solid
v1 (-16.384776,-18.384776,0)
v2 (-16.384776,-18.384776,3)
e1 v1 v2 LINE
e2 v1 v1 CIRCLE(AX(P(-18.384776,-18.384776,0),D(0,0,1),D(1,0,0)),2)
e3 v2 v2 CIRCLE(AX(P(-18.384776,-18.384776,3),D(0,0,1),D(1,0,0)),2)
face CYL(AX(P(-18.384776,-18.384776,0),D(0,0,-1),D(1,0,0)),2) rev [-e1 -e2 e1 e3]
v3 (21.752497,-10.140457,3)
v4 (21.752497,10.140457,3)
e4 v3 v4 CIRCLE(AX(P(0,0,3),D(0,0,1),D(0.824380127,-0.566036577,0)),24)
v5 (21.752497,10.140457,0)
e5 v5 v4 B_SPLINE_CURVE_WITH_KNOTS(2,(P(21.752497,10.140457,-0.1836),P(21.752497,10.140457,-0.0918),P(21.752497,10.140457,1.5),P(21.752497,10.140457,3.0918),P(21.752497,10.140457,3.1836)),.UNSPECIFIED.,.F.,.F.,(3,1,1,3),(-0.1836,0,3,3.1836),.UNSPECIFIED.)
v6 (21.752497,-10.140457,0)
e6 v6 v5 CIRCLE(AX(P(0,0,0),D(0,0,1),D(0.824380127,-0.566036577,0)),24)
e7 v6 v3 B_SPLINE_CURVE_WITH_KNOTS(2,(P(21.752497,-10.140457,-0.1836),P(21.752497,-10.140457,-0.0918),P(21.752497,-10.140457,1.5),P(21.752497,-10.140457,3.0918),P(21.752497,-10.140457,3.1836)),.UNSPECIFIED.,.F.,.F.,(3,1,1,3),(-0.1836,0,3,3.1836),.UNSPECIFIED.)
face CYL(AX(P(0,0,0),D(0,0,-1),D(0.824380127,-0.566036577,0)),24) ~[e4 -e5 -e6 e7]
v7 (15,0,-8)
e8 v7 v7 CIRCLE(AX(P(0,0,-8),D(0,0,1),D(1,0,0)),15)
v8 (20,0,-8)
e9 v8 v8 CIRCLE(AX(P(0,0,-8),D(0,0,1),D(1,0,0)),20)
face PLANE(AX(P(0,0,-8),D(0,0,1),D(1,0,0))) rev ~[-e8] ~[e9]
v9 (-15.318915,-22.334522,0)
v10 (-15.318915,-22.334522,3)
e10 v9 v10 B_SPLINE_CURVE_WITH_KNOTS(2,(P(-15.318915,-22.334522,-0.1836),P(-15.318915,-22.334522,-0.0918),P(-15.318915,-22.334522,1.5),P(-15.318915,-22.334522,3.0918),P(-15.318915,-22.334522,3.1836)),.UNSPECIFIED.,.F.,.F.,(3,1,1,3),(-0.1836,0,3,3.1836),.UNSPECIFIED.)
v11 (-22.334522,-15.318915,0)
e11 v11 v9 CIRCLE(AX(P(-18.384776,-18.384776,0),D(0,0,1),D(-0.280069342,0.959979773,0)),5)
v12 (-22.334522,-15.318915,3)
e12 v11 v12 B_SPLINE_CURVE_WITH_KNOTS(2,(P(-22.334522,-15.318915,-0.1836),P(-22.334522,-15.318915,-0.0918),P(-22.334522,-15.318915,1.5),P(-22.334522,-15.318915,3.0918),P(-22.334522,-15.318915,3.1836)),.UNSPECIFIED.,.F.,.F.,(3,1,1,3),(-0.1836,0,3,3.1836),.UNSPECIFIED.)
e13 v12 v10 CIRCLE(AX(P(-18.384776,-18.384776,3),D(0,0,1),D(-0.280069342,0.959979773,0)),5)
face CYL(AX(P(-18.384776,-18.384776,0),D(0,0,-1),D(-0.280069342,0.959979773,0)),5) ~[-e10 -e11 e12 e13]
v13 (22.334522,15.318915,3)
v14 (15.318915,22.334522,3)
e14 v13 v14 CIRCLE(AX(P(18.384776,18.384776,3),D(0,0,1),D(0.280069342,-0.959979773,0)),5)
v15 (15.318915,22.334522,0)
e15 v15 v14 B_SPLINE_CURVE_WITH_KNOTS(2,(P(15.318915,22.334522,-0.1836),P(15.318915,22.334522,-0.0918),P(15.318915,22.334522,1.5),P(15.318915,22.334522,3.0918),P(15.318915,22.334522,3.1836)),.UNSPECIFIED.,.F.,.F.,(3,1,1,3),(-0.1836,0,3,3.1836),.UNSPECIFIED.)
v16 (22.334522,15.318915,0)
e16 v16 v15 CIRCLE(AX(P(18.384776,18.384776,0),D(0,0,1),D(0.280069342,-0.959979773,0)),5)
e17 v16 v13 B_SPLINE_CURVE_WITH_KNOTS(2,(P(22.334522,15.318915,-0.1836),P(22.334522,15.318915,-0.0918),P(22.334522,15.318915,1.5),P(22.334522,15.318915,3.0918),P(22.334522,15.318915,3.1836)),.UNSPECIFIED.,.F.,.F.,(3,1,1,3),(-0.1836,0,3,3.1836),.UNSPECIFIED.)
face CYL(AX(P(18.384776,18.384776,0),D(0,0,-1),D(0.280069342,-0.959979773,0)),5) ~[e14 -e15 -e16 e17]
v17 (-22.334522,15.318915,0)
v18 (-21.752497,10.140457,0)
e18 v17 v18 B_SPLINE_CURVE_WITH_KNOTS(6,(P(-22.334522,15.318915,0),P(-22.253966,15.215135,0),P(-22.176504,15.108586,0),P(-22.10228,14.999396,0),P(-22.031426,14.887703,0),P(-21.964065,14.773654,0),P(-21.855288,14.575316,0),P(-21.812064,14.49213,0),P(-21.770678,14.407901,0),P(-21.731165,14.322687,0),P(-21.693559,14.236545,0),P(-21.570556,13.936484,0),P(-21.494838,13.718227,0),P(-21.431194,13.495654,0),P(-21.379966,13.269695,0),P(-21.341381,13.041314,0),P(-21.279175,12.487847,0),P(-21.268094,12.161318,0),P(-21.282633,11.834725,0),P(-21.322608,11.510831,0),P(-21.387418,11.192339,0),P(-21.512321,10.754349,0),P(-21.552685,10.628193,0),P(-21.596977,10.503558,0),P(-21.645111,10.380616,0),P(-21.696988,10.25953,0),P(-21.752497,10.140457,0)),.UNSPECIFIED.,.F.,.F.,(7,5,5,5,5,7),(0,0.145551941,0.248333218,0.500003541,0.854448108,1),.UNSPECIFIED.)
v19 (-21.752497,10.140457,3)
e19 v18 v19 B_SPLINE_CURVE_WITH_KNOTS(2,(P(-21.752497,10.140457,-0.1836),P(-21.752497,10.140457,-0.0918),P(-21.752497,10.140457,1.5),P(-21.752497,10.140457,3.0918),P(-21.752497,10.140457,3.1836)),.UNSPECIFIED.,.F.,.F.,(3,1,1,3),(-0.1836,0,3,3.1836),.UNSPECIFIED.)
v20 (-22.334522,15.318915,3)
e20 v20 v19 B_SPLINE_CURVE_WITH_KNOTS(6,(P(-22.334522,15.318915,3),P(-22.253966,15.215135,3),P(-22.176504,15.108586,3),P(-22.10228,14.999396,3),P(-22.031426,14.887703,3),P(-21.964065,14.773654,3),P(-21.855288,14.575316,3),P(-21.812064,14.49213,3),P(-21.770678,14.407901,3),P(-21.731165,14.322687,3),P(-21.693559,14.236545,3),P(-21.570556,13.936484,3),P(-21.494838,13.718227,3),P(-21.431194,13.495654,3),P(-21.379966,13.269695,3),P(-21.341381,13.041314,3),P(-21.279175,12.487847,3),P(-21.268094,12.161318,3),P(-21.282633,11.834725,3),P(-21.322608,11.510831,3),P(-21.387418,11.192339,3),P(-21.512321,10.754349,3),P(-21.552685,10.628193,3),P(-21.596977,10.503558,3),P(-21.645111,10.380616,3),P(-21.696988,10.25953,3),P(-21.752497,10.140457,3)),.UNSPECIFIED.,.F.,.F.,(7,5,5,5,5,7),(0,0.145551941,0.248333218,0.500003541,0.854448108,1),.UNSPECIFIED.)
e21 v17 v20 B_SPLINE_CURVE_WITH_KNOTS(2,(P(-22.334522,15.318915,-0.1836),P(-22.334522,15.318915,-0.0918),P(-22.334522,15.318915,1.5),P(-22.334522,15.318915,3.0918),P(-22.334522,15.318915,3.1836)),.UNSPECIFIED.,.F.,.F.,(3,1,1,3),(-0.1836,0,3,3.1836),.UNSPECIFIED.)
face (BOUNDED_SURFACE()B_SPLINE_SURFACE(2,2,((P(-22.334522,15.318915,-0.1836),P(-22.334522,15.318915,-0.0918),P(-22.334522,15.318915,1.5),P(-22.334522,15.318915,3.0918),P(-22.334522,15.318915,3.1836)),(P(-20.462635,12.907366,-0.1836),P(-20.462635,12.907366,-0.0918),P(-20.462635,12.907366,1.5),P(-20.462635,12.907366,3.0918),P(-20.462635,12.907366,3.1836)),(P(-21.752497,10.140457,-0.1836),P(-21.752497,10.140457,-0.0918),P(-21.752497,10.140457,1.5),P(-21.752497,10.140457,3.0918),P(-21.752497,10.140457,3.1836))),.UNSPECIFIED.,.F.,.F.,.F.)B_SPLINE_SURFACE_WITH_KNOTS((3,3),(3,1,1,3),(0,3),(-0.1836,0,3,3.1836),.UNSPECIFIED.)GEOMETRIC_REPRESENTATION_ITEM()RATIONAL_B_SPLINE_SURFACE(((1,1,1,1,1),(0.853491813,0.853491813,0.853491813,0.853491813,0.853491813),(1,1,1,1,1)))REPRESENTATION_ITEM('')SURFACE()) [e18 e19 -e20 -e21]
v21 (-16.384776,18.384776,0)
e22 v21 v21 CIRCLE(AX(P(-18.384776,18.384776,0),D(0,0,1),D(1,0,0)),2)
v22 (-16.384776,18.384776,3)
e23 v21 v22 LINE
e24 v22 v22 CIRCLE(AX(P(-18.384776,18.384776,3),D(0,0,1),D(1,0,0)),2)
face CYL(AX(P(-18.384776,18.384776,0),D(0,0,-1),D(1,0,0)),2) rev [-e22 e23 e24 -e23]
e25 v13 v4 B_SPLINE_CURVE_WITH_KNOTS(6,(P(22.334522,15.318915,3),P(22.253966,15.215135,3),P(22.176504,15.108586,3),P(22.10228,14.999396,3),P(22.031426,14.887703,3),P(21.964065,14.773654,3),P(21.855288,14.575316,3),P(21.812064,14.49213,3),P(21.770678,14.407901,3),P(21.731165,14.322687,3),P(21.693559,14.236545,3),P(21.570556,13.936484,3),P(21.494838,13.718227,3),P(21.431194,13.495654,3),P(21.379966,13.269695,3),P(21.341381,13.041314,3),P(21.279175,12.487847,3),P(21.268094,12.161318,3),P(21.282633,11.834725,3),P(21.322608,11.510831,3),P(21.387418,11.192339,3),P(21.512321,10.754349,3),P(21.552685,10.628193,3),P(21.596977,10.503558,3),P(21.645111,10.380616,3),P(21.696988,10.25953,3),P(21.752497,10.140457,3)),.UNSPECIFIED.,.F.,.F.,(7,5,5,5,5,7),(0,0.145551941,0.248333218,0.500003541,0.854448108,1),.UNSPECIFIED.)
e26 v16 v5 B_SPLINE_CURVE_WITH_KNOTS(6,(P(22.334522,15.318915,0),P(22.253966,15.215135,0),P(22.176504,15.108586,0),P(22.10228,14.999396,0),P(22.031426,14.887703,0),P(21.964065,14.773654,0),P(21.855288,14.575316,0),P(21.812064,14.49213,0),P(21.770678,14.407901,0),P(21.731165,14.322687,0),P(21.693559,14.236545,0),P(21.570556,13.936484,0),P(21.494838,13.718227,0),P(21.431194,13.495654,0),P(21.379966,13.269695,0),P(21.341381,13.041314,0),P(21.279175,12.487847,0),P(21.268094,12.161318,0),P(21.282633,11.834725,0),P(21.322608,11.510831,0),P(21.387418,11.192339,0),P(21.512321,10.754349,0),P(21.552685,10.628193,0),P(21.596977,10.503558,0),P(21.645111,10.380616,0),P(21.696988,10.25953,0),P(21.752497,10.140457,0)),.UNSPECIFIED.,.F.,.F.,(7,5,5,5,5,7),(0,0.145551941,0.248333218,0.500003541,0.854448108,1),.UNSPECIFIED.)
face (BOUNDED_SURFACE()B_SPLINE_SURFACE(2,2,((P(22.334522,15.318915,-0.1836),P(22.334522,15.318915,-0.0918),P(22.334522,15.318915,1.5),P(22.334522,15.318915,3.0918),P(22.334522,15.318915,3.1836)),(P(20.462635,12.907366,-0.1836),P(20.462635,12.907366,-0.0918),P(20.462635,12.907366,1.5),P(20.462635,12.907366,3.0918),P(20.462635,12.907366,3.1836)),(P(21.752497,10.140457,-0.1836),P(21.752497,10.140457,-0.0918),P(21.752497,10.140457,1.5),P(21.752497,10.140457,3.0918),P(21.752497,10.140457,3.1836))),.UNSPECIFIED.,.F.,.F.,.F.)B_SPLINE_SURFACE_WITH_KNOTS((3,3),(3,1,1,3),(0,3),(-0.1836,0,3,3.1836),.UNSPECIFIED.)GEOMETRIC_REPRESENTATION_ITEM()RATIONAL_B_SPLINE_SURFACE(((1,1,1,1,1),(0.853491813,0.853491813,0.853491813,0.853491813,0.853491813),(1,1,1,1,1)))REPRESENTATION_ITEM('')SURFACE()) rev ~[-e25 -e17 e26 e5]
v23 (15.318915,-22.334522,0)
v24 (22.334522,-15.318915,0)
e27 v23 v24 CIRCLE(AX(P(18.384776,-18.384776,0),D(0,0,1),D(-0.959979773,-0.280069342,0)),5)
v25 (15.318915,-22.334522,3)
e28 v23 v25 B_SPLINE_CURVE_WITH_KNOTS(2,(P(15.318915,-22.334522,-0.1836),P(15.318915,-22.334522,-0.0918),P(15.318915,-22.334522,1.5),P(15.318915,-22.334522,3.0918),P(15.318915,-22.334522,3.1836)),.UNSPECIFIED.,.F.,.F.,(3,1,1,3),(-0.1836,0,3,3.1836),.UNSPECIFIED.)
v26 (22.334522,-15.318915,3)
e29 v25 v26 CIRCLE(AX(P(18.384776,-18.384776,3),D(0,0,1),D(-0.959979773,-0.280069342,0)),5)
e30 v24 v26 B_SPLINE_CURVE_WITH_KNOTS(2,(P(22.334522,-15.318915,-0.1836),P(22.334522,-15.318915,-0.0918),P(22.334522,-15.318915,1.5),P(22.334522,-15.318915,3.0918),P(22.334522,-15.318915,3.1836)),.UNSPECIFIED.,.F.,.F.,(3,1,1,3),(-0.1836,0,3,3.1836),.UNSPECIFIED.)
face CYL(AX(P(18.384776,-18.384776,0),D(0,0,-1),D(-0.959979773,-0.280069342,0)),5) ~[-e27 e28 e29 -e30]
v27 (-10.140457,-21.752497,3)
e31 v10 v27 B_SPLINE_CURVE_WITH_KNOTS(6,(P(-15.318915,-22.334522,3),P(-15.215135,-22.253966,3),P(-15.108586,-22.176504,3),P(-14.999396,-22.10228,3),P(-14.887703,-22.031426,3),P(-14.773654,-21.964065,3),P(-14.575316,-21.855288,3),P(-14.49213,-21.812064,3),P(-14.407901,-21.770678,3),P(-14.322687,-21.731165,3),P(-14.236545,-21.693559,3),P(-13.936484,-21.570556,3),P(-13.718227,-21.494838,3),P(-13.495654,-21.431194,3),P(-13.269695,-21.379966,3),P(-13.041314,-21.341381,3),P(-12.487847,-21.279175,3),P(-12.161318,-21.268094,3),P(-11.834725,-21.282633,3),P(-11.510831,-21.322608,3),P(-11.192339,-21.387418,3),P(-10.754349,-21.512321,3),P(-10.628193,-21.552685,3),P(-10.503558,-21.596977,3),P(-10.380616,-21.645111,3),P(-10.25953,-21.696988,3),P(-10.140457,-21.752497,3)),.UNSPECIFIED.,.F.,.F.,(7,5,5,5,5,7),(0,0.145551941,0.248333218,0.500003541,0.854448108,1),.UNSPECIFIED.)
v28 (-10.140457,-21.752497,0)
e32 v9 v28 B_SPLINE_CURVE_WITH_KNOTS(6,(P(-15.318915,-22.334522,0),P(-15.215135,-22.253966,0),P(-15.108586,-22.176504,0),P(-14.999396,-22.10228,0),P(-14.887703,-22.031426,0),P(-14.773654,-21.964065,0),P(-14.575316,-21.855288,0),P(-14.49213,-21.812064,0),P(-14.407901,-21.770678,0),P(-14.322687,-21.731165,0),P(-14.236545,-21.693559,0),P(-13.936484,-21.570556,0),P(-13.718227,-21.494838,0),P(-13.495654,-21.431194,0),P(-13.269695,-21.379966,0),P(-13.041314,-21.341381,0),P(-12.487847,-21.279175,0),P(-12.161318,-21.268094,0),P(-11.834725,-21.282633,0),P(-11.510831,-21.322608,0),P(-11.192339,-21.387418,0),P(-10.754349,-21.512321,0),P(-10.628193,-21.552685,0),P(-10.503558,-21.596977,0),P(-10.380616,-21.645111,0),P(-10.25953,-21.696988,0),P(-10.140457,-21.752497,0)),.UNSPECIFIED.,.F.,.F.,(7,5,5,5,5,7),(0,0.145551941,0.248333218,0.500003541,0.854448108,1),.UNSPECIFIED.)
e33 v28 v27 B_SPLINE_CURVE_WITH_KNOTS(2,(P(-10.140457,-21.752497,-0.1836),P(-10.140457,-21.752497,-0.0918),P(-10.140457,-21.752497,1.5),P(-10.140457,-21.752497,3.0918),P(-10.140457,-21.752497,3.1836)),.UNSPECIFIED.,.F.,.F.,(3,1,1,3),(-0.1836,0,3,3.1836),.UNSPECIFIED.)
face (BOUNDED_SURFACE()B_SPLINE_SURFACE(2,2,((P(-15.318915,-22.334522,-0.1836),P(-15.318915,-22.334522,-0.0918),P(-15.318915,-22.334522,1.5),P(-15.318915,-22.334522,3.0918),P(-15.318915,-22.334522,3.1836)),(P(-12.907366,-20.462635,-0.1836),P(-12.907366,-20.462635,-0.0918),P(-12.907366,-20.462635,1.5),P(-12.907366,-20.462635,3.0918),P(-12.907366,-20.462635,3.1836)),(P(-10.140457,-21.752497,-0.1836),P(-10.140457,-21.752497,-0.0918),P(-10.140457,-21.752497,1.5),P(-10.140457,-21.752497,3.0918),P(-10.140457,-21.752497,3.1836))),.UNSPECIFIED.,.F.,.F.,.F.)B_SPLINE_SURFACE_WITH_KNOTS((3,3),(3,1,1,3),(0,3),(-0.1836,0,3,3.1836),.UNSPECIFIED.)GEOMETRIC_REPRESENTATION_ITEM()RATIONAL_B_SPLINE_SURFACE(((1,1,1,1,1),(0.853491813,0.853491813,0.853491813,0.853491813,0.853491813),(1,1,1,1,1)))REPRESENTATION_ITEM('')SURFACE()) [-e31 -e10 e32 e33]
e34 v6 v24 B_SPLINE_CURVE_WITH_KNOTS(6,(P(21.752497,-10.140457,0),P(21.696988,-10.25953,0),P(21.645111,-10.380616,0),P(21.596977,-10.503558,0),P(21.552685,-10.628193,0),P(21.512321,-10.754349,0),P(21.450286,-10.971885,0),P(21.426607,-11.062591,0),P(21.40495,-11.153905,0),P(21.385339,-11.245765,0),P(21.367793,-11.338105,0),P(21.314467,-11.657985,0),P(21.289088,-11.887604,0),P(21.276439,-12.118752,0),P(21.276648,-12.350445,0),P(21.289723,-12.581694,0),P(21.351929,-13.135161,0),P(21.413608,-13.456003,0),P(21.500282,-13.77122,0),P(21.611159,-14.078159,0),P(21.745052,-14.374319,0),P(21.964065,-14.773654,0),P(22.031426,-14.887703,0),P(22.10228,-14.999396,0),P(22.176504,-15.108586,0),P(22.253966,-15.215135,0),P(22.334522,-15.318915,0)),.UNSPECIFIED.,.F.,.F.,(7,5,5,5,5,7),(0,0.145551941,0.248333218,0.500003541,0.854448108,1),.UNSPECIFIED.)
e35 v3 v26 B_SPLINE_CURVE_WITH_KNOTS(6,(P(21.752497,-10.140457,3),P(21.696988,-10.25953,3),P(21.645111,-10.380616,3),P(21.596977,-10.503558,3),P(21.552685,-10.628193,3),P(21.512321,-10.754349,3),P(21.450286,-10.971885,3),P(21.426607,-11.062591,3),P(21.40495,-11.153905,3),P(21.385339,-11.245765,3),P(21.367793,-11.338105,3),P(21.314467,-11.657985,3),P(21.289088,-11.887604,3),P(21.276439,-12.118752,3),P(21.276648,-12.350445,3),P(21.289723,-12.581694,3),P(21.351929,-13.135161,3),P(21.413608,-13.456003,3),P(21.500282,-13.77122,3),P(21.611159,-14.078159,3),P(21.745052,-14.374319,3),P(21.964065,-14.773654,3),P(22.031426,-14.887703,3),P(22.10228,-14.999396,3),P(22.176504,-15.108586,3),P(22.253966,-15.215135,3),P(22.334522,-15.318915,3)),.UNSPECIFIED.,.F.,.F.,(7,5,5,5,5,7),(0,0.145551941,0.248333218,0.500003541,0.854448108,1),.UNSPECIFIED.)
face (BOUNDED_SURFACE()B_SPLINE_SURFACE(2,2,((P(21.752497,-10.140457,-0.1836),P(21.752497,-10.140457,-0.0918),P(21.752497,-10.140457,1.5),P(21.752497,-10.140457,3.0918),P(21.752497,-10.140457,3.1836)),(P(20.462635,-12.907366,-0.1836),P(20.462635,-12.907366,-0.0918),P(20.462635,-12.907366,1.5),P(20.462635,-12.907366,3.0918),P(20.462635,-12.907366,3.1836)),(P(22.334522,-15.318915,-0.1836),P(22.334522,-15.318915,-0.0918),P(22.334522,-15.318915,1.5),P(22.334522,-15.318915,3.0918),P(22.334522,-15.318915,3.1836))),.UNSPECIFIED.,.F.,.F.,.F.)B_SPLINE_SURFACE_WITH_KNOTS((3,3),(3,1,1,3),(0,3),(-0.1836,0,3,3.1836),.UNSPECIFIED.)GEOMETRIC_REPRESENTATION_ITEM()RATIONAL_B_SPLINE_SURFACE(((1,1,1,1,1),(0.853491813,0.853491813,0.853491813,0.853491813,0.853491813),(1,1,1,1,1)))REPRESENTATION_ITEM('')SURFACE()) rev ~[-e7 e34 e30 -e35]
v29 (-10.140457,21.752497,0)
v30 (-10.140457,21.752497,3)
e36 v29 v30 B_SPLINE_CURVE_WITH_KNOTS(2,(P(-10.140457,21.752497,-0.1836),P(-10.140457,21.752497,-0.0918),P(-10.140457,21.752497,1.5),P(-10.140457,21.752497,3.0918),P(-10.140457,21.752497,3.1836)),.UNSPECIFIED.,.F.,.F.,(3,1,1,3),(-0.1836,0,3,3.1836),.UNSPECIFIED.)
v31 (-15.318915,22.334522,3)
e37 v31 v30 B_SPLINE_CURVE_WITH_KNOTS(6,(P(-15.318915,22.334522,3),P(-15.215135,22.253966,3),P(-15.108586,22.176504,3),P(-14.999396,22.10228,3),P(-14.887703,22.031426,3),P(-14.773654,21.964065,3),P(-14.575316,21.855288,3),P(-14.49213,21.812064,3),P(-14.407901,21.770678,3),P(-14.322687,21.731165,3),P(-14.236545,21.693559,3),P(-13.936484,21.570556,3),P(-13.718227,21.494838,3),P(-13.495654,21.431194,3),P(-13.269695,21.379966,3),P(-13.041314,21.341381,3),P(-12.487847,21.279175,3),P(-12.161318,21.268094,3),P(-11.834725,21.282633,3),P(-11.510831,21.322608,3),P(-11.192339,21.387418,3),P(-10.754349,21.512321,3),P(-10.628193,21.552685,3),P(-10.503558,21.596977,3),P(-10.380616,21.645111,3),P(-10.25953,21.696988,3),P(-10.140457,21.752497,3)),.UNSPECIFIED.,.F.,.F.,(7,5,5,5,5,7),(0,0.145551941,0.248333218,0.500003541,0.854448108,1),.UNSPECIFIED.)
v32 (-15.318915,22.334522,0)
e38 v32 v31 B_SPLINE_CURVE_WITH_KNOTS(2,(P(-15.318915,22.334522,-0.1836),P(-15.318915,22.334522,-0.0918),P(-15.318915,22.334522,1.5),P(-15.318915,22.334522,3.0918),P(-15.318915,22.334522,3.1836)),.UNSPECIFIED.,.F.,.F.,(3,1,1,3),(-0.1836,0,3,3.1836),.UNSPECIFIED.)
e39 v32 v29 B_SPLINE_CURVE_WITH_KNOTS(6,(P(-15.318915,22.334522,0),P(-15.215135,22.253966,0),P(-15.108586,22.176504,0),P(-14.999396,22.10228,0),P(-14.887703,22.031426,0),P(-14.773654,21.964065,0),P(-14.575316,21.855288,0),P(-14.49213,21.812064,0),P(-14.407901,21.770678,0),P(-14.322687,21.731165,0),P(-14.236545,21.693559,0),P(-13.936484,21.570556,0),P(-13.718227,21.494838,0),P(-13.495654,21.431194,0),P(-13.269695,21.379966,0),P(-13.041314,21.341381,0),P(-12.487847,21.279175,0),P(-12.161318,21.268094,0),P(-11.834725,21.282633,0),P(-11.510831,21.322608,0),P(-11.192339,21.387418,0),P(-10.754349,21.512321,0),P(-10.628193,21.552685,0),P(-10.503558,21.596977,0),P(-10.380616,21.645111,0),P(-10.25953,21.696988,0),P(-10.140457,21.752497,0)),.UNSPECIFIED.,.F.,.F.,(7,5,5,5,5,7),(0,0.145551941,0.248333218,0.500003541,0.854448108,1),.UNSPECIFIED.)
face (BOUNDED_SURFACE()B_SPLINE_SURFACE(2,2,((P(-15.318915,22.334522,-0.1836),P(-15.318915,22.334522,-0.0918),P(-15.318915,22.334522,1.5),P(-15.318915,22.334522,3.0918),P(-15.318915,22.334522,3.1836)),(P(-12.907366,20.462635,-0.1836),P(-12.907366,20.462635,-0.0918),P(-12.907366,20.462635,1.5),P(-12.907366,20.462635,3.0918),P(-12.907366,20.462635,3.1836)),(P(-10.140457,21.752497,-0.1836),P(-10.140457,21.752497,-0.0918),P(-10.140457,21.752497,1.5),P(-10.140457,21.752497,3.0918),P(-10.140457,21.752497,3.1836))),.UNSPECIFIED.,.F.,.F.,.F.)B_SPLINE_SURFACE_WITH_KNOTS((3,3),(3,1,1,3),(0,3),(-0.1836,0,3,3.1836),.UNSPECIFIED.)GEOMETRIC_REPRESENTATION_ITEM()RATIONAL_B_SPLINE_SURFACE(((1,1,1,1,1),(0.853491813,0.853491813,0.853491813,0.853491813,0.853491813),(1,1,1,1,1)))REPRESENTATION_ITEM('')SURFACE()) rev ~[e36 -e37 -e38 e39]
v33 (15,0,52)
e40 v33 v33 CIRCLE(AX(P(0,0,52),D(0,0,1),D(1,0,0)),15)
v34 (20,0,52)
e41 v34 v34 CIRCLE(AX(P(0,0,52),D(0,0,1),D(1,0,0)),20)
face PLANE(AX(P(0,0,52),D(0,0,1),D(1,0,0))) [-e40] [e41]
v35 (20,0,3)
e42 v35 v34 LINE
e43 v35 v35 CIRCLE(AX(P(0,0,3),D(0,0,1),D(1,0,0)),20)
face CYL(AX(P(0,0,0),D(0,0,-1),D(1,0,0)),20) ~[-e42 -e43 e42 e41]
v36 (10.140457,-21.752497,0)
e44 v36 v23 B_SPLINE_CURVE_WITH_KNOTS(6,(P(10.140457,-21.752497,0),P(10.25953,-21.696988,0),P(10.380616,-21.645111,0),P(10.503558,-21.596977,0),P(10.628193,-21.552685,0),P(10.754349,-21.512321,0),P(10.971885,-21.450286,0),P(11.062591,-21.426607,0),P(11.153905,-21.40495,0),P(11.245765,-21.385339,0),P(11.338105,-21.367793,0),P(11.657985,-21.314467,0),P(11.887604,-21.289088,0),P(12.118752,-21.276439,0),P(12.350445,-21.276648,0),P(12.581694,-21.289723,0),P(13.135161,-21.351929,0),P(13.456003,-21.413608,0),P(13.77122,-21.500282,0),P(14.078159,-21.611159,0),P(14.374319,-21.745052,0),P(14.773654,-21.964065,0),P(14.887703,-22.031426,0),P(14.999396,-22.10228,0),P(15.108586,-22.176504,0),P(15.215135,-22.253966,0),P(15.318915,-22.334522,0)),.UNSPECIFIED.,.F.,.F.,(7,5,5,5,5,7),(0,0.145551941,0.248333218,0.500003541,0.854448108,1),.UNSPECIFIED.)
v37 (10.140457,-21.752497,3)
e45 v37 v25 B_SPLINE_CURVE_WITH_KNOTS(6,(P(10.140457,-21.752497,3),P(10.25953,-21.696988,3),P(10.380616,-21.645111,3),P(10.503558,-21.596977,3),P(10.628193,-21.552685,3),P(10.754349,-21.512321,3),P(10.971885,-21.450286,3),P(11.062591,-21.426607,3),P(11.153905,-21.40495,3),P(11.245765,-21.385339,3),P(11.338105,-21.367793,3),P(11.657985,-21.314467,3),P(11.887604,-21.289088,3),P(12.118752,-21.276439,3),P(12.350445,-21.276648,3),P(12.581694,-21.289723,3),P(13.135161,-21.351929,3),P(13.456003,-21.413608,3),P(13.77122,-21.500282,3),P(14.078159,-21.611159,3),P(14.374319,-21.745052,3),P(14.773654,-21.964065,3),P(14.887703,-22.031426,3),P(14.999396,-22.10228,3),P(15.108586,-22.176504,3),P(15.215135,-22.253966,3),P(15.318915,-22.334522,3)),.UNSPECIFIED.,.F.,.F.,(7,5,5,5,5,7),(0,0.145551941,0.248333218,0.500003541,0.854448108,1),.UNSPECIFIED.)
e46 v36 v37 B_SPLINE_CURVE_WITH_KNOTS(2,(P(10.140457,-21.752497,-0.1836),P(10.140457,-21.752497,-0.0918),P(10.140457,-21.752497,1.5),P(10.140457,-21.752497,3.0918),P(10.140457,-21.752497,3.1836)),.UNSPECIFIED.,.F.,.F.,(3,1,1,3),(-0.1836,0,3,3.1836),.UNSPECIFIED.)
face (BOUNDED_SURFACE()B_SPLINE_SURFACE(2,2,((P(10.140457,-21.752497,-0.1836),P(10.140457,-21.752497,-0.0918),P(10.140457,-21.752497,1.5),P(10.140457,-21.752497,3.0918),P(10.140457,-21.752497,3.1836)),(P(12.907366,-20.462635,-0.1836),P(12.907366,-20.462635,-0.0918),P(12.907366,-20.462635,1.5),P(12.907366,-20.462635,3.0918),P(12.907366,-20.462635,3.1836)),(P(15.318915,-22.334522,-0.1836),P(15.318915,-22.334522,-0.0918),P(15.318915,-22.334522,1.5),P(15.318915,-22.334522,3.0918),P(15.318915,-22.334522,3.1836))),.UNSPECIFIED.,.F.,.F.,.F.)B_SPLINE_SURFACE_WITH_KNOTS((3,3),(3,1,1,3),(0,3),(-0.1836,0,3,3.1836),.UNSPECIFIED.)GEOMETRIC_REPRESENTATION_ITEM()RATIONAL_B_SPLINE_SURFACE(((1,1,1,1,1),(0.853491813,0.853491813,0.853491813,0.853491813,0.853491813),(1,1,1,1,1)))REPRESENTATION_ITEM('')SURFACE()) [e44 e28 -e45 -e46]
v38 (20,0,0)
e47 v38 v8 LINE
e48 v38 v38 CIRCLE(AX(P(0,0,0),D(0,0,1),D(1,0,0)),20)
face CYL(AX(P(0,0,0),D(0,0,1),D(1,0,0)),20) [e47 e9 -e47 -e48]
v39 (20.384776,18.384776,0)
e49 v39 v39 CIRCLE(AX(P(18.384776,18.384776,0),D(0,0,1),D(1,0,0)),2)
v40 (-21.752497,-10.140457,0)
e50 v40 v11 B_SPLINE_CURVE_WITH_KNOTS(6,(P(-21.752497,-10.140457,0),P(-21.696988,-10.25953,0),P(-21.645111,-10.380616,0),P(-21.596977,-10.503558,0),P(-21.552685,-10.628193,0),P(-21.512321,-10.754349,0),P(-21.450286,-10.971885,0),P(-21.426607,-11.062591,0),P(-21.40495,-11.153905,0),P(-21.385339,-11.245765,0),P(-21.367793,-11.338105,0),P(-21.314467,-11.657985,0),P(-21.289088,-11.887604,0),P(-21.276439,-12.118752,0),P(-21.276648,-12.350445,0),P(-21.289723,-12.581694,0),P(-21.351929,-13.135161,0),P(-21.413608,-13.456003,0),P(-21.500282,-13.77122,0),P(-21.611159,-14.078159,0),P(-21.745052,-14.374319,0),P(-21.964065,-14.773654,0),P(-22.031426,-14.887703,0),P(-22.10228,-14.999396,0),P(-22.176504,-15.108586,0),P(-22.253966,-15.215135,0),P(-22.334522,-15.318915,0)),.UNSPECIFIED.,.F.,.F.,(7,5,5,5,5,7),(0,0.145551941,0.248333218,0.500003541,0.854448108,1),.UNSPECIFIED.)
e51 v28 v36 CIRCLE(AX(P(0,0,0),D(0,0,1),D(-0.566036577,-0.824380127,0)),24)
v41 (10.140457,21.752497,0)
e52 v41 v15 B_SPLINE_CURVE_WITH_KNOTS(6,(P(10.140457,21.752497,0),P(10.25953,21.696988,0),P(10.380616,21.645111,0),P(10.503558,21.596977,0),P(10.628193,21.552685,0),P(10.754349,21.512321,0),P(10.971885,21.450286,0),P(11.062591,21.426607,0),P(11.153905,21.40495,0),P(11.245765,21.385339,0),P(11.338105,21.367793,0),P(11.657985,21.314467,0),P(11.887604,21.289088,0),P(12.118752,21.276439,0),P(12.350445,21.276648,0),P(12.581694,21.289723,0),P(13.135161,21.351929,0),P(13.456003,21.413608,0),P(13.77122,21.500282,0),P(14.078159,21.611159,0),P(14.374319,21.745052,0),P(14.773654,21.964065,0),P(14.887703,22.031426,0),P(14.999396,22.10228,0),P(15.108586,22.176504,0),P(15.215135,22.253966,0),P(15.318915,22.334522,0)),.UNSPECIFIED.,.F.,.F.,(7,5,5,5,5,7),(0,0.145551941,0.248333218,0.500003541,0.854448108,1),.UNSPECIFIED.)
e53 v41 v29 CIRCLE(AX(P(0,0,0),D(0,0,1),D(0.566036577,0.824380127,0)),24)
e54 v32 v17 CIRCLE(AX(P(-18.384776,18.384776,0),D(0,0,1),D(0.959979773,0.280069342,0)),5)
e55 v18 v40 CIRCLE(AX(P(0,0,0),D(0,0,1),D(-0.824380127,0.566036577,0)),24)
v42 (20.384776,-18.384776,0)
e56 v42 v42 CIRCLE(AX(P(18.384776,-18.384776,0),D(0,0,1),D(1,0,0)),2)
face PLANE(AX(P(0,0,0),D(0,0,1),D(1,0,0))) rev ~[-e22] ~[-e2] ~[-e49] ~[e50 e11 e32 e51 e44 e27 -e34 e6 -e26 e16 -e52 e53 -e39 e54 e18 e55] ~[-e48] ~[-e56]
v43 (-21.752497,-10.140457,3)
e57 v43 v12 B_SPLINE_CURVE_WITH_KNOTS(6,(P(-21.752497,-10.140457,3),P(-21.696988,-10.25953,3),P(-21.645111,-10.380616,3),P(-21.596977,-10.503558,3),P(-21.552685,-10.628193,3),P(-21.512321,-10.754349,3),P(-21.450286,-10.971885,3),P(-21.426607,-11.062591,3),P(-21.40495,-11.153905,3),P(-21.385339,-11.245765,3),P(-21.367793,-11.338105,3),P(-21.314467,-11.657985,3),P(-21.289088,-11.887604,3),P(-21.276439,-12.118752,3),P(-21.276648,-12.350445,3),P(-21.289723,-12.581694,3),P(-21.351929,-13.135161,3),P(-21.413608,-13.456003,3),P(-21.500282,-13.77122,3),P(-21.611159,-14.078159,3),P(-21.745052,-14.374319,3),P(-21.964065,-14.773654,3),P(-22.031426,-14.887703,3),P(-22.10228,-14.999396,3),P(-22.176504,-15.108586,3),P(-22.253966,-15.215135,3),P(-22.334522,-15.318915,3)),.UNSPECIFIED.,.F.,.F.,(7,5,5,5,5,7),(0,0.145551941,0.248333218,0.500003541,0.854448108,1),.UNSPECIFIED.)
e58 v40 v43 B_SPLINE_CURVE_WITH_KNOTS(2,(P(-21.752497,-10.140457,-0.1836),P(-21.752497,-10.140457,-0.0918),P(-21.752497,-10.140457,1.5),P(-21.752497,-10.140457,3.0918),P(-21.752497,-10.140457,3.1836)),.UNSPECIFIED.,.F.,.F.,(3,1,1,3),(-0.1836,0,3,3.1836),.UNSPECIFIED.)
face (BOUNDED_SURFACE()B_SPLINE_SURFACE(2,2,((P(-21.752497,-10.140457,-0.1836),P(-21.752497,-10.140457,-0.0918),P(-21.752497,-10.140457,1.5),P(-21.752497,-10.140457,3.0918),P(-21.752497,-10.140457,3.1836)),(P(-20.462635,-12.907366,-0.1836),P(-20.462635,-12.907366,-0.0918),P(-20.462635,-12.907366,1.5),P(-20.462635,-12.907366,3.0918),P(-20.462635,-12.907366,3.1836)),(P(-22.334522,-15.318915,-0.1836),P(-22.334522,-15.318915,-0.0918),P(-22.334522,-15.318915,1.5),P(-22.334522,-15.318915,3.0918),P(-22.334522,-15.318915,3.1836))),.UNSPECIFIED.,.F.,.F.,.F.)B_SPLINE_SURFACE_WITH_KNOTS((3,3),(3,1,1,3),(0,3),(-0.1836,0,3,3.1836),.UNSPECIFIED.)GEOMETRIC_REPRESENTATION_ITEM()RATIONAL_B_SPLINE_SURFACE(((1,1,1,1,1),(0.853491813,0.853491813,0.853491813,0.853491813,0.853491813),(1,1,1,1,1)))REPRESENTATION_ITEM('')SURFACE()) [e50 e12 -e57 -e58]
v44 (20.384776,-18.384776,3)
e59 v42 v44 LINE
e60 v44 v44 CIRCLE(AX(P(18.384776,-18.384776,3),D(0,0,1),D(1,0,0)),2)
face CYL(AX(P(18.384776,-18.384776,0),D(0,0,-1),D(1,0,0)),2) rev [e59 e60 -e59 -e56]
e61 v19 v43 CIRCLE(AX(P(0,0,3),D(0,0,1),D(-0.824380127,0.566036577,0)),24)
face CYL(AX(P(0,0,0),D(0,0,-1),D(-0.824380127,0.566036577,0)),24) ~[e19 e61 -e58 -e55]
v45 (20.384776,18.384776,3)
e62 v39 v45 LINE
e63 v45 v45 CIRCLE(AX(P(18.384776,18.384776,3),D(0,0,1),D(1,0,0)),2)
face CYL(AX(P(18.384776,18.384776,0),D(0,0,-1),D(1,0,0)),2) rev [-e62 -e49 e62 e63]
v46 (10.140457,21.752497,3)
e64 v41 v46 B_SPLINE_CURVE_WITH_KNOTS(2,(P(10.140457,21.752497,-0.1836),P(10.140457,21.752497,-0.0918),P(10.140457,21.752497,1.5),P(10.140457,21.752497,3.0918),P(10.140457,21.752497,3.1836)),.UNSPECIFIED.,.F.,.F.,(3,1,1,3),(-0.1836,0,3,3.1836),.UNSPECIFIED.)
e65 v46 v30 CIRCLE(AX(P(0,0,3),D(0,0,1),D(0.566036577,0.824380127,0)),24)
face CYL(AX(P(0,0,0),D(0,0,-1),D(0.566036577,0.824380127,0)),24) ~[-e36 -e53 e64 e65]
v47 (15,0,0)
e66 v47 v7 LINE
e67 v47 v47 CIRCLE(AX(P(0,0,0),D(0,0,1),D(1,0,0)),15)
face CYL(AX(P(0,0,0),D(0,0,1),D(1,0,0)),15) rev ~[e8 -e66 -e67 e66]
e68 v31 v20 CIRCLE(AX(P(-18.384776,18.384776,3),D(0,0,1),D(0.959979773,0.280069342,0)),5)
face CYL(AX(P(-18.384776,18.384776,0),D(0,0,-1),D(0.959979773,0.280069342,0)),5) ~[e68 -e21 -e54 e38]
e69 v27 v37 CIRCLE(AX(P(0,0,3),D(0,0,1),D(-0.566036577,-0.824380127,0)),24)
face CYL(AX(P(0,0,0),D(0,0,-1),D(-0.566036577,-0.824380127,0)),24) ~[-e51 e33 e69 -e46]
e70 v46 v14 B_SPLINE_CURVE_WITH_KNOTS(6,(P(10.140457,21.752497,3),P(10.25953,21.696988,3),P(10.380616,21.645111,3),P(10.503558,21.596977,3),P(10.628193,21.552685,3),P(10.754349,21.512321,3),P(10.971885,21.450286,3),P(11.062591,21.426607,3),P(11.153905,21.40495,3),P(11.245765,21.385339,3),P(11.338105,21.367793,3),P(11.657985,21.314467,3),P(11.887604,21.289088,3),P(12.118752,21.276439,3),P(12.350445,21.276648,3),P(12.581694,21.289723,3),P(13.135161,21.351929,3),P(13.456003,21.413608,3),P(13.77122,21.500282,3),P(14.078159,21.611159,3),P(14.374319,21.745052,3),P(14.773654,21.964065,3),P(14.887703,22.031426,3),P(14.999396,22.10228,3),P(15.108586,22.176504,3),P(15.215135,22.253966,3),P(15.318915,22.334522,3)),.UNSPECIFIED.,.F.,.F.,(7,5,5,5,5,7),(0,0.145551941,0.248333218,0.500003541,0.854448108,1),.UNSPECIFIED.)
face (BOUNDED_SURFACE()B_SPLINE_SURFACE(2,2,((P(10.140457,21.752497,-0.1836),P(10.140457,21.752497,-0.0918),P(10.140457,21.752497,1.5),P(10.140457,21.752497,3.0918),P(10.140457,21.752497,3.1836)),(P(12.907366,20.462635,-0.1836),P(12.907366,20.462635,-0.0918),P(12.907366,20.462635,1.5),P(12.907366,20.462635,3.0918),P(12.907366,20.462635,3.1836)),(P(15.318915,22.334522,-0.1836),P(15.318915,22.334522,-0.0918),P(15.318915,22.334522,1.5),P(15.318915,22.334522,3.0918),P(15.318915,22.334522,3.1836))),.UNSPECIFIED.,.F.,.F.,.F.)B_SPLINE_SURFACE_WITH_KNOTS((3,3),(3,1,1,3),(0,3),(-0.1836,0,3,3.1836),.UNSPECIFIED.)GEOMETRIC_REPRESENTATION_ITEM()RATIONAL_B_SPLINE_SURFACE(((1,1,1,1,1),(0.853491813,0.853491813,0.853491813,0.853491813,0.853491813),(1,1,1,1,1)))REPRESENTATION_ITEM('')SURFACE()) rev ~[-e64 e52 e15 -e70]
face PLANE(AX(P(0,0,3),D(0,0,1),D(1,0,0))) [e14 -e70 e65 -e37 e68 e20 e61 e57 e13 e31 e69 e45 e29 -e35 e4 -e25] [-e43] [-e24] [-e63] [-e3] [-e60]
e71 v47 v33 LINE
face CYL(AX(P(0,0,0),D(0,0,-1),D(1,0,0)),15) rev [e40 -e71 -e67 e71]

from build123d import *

# Parameters (mm, degrees)
F0_R          = 2
F0_R_2        = 20
F1_DEPTH      = 3
F2_R          = 5
F3_R          = 20
F3_R_2        = 15
F4_DEPTH      = 52
F4_DEPTH_BACK = 8


with BuildPart() as f1:
    # F0 (on Top) → F1 (new body)
    with BuildSketch(Plane.XY):
        with BuildLine():
            ThreePointArc((-13.584878, 19.785123), (-21.92031, 21.92031), (-19.785123, 13.584878))
            ThreePointArc((-19.785123, 13.584878), (-24, 0), (-19.785123, -13.584878))
            ThreePointArc((-19.785123, -13.584878), (-21.92031, -21.92031), (-13.584878, -19.785123))
            ThreePointArc((-13.584878, -19.785123), (0, -24), (13.584878, -19.785123))
            ThreePointArc((13.584878, -19.785123), (21.92031, -21.92031), (19.785123, -13.584878))
            ThreePointArc((19.785123, -13.584878), (24, 0), (19.785123, 13.584878))
            ThreePointArc((19.785123, 13.584878), (21.92031, 21.92031), (13.584878, 19.785123))
            ThreePointArc((13.584878, 19.785123), (0, 24), (-13.584878, 19.785123))
        make_face()
        with Locations((-18.384776, -18.384776)):
            Circle(F0_R, mode=Mode.SUBTRACT)
        with Locations((18.384776, -18.384776)):
            Circle(F0_R, mode=Mode.SUBTRACT)
        with Locations((-18.384776, 18.384776)):
            Circle(F0_R, mode=Mode.SUBTRACT)
        Circle(F0_R_2, mode=Mode.SUBTRACT)
        with Locations((18.384776, 18.384776)):
            Circle(F0_R, mode=Mode.SUBTRACT)
    extrude(amount=F1_DEPTH)

    # F2
    f2_edges = [f1.edges().sort_by_distance(p)[0] for p in [
        (-13.584878, -19.785123, 1.5),
        (19.785123, 13.584878, 1.5),
        (-19.785123, 13.584878, 1.5),
        (-19.785123, -13.584878, 1.5),
        (19.785123, -13.584878, 1.5),
        (-13.584878, 19.785123, 1.5),
        (13.584878, -19.785123, 1.5),
        (13.584878, 19.785123, 1.5),
    ]]
    fillet(f2_edges, radius=F2_R)

    # F3 (on Top) → F4 (join, two sides)
    with BuildSketch(Plane.XY) as f4_sk:
        Circle(F3_R)
        Circle(F3_R_2, mode=Mode.SUBTRACT)
    extrude(amount=F4_DEPTH)
    extrude(f4_sk.sketch, amount=-F4_DEPTH_BACK)


solid = f1.part
